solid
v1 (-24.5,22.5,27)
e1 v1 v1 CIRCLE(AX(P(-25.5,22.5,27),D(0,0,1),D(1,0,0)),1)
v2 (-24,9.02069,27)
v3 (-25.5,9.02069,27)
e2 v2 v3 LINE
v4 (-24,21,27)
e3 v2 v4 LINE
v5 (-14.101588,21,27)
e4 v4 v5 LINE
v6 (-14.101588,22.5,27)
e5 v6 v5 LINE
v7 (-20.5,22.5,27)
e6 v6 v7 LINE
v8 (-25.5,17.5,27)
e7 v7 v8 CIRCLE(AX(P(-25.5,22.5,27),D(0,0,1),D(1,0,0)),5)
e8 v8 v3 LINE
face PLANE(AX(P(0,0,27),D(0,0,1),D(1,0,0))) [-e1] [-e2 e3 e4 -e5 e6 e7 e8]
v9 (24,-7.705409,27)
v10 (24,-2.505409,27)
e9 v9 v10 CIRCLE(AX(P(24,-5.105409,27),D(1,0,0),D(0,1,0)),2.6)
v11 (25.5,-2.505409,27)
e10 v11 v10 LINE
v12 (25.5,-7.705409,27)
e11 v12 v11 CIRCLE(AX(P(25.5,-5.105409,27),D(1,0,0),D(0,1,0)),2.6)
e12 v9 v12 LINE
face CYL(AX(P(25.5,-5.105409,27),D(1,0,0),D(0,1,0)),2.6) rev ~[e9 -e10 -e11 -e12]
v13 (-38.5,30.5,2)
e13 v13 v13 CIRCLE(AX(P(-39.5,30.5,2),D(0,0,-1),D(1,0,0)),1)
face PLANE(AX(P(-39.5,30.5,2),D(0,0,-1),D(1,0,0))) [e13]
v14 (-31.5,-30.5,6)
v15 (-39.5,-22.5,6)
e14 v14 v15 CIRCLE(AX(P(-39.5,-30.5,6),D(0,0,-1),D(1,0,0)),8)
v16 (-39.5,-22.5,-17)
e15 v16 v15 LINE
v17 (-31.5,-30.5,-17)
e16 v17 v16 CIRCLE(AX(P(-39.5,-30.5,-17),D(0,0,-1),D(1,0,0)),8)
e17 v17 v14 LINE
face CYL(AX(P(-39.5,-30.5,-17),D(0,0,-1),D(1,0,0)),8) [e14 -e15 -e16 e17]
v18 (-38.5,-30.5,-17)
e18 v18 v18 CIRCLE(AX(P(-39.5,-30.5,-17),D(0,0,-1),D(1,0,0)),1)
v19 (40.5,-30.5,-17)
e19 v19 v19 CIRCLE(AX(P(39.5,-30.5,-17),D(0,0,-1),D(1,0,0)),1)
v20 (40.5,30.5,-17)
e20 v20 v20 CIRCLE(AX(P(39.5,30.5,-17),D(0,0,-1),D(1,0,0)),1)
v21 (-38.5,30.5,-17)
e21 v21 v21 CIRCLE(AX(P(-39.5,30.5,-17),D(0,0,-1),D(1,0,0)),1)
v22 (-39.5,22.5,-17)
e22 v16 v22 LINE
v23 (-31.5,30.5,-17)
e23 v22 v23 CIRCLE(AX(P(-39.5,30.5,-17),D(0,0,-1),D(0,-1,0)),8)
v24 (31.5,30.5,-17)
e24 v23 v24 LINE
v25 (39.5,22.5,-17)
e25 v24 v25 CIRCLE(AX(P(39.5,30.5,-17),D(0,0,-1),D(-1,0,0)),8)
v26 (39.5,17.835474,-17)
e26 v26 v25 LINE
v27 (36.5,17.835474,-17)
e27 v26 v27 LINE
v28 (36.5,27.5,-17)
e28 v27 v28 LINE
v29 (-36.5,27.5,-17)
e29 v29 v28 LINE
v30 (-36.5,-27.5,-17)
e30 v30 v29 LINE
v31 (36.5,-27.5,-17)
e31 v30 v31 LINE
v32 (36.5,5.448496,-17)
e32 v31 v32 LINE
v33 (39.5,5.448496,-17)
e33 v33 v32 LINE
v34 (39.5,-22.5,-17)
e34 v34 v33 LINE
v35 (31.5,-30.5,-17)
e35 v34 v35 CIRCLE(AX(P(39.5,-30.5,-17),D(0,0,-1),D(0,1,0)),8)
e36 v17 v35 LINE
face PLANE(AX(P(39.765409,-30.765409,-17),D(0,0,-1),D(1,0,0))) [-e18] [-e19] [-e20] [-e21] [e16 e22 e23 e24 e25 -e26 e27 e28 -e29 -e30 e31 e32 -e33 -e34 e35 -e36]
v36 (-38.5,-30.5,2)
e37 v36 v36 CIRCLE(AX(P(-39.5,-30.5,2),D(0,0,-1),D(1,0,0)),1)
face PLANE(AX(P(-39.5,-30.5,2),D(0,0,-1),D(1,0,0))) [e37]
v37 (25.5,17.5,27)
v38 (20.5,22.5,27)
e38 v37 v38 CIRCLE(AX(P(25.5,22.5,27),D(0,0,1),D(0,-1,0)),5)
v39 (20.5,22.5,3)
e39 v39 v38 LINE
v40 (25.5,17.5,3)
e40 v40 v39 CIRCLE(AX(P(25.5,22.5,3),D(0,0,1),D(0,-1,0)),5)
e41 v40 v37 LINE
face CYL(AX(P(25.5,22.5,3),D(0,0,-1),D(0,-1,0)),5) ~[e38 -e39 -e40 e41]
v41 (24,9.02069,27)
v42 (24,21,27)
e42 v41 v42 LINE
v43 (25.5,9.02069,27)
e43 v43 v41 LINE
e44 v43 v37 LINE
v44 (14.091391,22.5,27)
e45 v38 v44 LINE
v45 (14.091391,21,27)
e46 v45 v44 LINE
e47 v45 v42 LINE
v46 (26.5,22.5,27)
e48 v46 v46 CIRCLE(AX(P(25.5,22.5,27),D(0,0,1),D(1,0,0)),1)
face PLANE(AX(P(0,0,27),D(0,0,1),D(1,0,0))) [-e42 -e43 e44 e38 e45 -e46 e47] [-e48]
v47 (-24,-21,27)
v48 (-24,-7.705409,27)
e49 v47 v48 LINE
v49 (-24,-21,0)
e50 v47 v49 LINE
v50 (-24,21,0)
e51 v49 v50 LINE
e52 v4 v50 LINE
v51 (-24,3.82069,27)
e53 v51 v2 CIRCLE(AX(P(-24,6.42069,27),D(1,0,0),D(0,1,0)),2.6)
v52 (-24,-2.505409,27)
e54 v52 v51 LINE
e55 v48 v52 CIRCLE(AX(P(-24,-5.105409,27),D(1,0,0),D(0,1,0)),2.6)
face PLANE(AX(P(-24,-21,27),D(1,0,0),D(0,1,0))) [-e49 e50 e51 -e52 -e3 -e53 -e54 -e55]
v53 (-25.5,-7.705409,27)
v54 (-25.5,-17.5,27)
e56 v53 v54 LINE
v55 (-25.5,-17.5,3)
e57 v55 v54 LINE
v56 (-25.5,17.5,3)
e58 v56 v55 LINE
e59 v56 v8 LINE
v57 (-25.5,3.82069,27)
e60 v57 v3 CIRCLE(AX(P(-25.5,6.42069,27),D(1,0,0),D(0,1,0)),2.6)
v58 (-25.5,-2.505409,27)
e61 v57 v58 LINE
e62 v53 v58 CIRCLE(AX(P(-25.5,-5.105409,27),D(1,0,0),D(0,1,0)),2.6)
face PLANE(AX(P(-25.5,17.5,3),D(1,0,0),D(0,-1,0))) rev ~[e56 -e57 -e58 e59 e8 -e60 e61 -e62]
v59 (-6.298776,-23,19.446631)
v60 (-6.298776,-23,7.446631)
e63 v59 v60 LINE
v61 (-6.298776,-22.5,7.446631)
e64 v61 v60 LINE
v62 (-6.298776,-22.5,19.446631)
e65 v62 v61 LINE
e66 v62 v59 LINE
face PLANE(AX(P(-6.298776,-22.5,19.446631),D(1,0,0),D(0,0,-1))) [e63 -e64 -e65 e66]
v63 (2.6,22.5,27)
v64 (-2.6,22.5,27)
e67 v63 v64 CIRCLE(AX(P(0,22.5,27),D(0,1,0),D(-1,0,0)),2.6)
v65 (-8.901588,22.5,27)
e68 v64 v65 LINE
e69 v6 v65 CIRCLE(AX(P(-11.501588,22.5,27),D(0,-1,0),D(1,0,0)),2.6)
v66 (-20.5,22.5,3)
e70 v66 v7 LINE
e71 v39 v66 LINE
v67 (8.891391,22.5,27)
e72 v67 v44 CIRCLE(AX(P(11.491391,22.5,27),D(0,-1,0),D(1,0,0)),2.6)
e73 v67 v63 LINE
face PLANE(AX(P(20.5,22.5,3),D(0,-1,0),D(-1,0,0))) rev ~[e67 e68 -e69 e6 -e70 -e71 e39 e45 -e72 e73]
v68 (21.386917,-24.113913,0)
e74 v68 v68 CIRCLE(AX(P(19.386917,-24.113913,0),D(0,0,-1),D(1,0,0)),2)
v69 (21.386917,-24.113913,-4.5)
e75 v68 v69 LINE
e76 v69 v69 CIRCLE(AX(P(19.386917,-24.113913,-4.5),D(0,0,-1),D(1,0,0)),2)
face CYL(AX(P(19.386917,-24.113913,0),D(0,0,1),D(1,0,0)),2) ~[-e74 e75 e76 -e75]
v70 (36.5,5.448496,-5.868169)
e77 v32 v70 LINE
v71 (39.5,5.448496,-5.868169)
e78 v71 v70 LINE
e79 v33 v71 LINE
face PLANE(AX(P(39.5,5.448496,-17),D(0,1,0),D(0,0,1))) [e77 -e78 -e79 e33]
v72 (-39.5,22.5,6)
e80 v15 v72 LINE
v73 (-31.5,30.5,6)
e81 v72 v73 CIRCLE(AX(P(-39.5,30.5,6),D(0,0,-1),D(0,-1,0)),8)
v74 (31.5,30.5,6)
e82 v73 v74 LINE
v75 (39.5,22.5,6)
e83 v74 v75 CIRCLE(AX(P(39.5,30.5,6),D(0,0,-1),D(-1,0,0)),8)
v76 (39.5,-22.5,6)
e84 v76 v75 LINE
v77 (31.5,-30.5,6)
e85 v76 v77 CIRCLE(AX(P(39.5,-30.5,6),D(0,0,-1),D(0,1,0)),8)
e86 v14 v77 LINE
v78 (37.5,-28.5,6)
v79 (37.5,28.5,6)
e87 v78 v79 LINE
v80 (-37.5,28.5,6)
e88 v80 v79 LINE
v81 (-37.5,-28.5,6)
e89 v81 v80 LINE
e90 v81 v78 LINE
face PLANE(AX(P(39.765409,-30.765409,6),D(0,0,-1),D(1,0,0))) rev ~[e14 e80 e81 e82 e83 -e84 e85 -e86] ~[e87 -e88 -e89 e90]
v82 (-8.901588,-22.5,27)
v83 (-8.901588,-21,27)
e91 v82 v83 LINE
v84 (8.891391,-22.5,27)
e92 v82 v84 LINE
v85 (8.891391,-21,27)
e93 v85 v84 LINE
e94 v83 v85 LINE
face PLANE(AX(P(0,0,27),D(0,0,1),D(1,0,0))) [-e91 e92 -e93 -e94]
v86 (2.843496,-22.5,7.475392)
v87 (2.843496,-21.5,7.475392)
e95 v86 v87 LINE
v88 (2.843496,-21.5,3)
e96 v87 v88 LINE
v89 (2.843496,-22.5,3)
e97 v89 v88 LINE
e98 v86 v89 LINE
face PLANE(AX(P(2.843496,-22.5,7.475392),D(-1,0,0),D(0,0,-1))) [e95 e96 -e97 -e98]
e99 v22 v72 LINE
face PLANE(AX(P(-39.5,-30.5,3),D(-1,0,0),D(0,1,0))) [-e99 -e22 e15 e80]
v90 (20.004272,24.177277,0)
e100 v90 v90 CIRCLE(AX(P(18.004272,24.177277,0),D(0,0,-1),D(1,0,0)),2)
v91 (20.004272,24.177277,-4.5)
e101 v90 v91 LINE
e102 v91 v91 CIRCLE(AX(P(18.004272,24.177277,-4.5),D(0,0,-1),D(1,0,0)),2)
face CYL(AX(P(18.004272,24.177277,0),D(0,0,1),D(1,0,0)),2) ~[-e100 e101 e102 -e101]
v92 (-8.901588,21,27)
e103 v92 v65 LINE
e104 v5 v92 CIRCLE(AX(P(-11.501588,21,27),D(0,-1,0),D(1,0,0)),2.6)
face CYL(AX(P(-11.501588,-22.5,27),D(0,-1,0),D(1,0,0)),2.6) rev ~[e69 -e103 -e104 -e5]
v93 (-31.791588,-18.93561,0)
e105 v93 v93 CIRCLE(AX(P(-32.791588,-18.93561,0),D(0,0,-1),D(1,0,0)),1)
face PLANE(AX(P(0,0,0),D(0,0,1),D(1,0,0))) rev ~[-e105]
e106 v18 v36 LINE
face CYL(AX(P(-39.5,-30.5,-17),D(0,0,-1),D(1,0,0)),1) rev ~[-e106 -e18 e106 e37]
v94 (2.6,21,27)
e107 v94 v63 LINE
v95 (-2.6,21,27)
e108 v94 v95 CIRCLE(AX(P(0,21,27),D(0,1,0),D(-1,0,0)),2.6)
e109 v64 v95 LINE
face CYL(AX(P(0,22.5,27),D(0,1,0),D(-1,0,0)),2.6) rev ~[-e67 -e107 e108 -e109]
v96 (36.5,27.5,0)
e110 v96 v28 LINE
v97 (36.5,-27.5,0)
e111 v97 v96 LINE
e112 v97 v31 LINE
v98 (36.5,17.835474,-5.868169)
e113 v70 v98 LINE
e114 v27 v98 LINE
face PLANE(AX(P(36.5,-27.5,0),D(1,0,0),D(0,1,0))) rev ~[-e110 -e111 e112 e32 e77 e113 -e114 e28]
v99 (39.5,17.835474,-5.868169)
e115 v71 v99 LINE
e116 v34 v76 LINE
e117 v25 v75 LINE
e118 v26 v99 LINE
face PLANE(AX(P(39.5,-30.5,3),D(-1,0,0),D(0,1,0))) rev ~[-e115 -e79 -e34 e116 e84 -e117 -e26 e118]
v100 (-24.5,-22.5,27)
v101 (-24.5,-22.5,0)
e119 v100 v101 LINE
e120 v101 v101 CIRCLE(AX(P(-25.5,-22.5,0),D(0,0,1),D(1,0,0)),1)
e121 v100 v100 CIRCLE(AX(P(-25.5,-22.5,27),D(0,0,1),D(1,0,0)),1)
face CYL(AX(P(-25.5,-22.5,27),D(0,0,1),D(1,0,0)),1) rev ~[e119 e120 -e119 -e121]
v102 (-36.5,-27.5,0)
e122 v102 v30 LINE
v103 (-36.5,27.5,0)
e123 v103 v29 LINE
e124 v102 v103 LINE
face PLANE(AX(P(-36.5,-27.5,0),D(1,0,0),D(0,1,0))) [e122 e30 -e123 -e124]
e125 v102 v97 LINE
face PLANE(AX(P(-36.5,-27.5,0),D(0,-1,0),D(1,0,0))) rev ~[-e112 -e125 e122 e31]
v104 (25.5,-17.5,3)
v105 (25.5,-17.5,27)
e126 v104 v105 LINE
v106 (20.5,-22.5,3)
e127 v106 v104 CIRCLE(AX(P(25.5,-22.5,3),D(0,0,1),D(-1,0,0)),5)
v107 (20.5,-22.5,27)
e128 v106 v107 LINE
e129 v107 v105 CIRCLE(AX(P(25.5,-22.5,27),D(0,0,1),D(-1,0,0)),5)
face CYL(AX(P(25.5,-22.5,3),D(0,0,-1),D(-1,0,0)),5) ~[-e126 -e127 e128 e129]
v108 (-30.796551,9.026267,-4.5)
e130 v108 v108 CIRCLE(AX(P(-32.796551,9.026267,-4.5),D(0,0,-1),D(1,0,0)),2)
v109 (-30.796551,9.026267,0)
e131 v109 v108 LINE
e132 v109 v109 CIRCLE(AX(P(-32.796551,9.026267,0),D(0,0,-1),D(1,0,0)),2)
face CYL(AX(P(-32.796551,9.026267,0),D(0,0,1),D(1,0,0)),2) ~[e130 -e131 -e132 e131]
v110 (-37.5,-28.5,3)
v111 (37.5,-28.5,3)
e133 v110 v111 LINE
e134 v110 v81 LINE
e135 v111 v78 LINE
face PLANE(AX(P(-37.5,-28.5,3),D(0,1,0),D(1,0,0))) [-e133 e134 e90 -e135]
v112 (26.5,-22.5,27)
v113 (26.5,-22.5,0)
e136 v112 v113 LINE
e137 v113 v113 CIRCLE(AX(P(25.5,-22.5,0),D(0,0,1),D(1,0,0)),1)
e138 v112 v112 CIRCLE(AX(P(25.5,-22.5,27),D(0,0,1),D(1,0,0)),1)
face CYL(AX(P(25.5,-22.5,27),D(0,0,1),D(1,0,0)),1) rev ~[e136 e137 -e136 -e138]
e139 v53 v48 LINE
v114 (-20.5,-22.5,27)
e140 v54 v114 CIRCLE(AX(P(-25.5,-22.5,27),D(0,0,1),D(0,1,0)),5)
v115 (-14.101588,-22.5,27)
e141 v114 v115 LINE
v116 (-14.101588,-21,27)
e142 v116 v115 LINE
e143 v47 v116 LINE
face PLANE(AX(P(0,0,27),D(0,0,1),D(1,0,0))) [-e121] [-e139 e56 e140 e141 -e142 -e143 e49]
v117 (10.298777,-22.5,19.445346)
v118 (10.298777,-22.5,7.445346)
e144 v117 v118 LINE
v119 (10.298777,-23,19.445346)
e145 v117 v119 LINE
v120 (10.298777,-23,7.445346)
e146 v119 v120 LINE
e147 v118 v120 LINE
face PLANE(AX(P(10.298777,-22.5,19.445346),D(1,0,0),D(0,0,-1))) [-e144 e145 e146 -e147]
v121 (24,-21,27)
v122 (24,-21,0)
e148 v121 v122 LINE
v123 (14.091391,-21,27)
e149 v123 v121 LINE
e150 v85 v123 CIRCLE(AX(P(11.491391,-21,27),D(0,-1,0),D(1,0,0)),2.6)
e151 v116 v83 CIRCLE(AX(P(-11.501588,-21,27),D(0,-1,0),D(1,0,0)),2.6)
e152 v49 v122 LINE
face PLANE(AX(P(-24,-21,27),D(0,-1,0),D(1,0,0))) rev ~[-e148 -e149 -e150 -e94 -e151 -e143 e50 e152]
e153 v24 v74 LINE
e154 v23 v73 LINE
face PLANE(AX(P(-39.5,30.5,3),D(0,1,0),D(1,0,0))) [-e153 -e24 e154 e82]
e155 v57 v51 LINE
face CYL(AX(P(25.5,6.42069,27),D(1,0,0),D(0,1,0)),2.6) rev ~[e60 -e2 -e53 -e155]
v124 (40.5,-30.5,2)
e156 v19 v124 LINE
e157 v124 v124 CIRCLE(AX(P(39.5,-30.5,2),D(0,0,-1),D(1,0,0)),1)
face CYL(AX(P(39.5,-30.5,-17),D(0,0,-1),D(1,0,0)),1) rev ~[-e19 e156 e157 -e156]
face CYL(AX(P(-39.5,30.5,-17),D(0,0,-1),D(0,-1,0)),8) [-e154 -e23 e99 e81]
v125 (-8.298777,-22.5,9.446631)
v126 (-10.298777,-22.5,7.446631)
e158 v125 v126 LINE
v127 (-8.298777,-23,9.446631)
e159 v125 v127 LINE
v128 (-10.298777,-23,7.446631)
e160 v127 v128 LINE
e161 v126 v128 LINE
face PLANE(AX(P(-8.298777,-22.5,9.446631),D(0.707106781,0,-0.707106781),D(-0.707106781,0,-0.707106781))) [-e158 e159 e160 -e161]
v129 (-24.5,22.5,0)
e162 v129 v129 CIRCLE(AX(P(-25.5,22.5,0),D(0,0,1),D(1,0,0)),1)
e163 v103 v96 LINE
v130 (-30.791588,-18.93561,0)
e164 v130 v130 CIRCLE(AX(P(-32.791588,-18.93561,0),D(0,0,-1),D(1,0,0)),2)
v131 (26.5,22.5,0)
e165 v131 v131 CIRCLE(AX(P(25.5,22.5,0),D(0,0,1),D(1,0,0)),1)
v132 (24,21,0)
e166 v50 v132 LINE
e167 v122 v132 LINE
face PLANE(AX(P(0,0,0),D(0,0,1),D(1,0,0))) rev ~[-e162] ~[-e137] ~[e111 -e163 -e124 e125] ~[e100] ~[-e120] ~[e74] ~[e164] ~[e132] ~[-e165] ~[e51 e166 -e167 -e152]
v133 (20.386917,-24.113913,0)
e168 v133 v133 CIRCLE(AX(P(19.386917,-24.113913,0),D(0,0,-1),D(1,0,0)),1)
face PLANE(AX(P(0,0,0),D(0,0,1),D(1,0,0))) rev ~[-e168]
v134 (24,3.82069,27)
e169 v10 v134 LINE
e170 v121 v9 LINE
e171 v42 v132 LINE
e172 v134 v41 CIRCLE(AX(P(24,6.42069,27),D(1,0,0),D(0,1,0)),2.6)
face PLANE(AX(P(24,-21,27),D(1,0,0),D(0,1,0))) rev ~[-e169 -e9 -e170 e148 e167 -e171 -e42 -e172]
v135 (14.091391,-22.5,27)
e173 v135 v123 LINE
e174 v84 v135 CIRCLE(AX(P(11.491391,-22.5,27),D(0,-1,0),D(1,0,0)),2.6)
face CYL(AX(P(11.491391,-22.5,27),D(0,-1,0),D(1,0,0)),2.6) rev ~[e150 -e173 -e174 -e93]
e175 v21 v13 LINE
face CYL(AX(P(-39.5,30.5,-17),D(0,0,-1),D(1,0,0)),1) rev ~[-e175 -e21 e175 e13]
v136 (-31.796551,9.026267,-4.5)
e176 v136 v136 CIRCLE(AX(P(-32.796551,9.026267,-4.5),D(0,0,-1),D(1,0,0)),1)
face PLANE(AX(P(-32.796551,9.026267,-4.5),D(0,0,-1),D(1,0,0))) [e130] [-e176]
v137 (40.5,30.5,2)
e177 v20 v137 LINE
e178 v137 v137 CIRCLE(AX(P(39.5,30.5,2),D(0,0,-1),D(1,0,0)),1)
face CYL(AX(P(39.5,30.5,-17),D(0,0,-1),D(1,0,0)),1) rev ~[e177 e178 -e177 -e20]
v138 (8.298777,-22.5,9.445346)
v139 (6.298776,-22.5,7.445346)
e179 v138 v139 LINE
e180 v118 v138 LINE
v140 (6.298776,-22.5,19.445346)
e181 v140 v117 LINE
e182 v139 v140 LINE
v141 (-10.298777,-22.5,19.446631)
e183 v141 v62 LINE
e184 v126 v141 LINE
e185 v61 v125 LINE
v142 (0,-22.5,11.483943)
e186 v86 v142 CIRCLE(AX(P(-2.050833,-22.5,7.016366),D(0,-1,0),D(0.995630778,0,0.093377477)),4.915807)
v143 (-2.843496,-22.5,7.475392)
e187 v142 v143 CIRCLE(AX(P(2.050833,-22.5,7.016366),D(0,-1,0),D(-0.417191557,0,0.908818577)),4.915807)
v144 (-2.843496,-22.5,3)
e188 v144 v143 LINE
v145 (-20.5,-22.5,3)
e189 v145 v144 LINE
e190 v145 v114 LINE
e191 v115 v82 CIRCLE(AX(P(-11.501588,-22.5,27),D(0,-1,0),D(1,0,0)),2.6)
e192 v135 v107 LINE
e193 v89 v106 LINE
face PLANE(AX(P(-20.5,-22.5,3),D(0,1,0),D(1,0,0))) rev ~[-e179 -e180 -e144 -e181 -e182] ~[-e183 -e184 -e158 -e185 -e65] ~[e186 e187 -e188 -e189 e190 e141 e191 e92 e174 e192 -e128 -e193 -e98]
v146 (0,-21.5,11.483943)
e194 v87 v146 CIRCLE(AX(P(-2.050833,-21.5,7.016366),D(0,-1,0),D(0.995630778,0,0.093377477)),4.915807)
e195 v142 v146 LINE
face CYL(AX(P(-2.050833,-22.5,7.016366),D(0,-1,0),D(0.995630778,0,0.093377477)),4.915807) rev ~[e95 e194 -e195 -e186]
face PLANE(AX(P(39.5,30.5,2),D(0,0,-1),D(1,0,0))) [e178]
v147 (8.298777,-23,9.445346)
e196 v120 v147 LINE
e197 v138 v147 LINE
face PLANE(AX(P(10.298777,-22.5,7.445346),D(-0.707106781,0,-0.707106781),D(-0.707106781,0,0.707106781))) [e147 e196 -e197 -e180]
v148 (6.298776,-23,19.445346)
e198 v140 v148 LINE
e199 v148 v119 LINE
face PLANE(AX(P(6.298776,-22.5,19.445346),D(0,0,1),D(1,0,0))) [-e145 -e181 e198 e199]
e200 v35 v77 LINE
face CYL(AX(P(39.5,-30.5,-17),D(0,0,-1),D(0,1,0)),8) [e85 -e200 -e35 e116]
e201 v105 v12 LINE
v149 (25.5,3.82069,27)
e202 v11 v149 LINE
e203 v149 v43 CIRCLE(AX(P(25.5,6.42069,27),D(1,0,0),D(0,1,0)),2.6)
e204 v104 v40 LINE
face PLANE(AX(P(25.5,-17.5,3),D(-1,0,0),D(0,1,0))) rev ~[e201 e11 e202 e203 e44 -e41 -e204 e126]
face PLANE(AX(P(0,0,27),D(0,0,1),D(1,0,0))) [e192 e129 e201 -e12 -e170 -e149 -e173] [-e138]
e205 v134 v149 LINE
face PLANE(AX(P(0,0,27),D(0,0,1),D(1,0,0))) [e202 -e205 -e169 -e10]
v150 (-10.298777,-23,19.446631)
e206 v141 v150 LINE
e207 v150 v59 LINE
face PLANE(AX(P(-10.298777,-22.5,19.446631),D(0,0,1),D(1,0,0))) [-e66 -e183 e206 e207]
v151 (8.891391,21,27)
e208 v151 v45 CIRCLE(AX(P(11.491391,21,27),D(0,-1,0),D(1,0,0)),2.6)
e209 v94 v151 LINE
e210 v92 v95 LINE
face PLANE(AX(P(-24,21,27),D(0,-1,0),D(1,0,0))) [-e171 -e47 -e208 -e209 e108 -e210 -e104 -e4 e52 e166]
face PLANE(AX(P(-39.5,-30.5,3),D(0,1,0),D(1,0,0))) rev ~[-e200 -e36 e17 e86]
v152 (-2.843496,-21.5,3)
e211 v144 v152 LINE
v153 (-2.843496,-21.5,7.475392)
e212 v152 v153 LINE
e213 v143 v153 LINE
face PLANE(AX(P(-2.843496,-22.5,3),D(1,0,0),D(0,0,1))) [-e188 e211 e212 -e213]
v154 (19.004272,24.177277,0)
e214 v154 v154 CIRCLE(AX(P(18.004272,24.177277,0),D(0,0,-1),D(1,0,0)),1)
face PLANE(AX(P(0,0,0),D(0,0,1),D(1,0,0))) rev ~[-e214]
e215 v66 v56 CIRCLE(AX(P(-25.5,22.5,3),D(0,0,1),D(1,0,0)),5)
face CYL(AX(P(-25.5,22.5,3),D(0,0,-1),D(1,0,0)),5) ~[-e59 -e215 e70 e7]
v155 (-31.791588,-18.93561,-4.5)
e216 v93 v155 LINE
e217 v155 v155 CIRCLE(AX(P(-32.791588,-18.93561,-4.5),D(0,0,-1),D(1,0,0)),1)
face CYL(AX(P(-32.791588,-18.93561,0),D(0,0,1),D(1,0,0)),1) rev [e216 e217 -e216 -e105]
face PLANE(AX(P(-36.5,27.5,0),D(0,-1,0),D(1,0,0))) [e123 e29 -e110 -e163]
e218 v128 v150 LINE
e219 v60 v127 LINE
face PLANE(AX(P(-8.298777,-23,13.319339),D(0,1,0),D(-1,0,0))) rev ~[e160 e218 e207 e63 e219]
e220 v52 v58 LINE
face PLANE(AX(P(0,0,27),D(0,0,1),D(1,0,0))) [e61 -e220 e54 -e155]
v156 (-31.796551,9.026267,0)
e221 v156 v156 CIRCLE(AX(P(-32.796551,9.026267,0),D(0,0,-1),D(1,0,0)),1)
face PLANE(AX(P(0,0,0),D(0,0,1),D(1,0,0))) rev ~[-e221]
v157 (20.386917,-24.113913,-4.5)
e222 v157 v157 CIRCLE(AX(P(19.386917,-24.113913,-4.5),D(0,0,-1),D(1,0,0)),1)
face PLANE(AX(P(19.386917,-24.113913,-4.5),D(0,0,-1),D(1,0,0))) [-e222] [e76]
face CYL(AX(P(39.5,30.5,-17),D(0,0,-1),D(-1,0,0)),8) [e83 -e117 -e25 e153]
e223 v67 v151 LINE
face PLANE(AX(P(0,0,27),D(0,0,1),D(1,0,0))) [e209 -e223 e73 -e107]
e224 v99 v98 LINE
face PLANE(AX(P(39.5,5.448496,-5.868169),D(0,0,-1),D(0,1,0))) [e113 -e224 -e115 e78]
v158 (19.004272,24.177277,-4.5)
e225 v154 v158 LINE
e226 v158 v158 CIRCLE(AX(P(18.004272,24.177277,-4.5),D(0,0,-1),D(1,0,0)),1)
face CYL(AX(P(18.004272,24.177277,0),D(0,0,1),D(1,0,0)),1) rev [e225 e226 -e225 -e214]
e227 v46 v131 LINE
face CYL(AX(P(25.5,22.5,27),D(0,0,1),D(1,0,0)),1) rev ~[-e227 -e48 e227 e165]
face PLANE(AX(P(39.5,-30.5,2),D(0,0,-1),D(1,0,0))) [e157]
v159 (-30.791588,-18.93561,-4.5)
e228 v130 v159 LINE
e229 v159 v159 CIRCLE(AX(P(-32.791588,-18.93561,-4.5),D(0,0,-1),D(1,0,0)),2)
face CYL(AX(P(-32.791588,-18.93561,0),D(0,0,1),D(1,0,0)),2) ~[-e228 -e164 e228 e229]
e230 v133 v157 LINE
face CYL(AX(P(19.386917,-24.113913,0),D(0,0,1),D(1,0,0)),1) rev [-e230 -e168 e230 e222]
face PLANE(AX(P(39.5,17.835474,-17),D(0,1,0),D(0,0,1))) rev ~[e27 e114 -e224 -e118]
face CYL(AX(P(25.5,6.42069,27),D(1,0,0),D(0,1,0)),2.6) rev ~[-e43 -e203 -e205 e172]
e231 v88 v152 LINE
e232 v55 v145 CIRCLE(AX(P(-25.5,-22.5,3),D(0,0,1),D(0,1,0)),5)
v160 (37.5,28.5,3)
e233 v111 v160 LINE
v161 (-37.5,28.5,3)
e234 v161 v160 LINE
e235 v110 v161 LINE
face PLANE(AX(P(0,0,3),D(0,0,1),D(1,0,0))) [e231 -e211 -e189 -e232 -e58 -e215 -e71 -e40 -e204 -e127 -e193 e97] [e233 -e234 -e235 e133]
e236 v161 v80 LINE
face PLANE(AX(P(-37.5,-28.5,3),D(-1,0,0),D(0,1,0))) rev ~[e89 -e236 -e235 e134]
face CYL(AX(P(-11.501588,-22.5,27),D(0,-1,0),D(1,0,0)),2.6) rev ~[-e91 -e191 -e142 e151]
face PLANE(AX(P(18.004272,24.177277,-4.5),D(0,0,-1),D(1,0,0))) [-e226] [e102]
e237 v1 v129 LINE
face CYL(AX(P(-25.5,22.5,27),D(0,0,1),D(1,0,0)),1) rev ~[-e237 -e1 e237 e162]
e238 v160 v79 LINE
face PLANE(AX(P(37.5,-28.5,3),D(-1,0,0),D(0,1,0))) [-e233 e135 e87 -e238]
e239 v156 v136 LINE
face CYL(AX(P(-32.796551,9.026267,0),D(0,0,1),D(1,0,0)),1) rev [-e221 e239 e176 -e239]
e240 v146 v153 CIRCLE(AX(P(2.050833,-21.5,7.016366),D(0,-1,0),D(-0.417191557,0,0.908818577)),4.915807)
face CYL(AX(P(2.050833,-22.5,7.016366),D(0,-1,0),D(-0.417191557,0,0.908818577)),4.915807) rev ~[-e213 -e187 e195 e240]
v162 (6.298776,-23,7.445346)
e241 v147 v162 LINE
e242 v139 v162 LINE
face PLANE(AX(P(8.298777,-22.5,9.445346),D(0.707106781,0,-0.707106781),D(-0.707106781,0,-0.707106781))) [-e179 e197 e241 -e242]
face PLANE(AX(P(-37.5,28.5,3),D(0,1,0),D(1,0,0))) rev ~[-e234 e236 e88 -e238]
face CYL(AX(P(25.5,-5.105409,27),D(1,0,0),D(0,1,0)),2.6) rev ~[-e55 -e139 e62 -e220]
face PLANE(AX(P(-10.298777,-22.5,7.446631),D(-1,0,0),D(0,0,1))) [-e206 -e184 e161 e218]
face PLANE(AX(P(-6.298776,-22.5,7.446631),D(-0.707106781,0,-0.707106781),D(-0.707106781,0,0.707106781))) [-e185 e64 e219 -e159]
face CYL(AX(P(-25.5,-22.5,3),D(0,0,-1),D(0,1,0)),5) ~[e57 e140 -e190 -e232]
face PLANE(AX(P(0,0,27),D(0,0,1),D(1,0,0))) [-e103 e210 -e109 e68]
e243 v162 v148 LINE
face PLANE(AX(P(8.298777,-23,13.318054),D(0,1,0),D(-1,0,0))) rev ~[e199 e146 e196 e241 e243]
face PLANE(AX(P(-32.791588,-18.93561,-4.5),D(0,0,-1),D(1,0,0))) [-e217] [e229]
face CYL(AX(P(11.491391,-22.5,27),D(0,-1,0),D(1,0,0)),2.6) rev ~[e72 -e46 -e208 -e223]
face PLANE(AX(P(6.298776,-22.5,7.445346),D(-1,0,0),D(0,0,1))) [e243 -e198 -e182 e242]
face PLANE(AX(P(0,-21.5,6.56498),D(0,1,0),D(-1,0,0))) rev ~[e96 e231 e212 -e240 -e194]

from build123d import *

# Parameters (mm, degrees)
SKETCH_W        = 79
SKETCH_H        = 61
SKETCH_W_2      = 73
SKETCH_H_2      = 55
PAD_DEPTH       = 17
SKETCH001_W     = 12.386978
SKETCH001_H     = 11.131831
POCKET_DEPTH    = 3
SKETCH002_W     = 79
SKETCH002_H     = 61
PAD001_DEPTH    = 3
PAD002_DEPTH    = 24
SKETCH004_W     = 48
SKETCH004_H     = 42
POCKET001_DEPTH = 44.001
SKETCH005_R     = 2.6
POCKET002_DEPTH = 65.001
SKETCH006_R     = 2.6
POCKET003_DEPTH = 53.001
SKETCH007_R     = 2.6
POCKET004_DEPTH = 1.5
SKETCH014_R     = 1
POCKET010_DEPTH = 44.001
POCKET013_DEPTH = 1
SKETCH018_W     = 79
SKETCH018_H     = 61
SKETCH018_W_2   = 75
SKETCH018_H_2   = 57
PAD004_DEPTH    = 3
SKETCH027_R     = 2
SKETCH027_R_2   = 1
PAD008_DEPTH    = 4.5
PAD009_DEPTH    = 23
SKETCH032_R     = 1
POCKET018_DEPTH = 19
PAD011_DEPTH    = 0.5


with BuildPart() as part:
    # Sketch → Pad (new body)
    with BuildSketch(Plane.XY):
        Rectangle(SKETCH_W, SKETCH_H)
        Rectangle(SKETCH_W_2, SKETCH_H_2, mode=Mode.SUBTRACT)
    extrude(amount=-PAD_DEPTH)

    # Sketch001 (on Face2 of Pad) → Pocket (cut)
    with BuildSketch(Plane.YZ.offset(39.5)):
        with Locations((11.641985, -11.4340845)):
            Rectangle(SKETCH001_W, SKETCH001_H)
    extrude(amount=-POCKET_DEPTH, mode=Mode.SUBTRACT)

    # Sketch002 (on Face4 of Pocket) → Pad001 (join)
    with BuildSketch(Plane.XY):
        Rectangle(SKETCH002_W, SKETCH002_H)
    extrude(amount=PAD001_DEPTH)

    # Sketch003 (on Face12 of Pad001) → Pad002 (join)
    with BuildSketch(Plane.XY.offset(3)):
        with BuildLine():
            Line((20.5, 22.5), (-20.5, 22.5))
            ThreePointArc((-20.5, 22.5), (-29.0355339059, 26.0355339059), (-25.5, 17.5))
            Line((-25.5, 17.5), (-25.5, -17.5))
            ThreePointArc((-25.5, -17.5), (-29.0355339059, -26.0355339059), (-20.5, -22.5))
            Line((-20.5, -22.5), (20.5, -22.5))
            ThreePointArc((20.5, -22.5), (29.0355339059, -26.0355339059), (25.5, -17.5))
            Line((25.5, -17.5), (25.5, 17.5))
            ThreePointArc((25.5, 17.5), (29.0355339059, 26.0355339059), (20.5, 22.5))
        make_face()
    extrude(amount=PAD002_DEPTH)

    # Sketch004 (on Face27 of Pad002) → Pocket001 (cut, through all)
    with BuildSketch(Plane.XY.offset(27)):
        Rectangle(SKETCH004_W, SKETCH004_H)
    extrude(amount=-POCKET001_DEPTH, mode=Mode.SUBTRACT)

    # Sketch005 (on Face24 of Pocket001) → Pocket002 (cut, through all)
    with BuildSketch(Plane.YZ.offset(25.5)):
        with Locations((-5.105409, 27)):
            Circle(SKETCH005_R)
        with Locations((6.42069, 27)):
            Circle(SKETCH005_R)
    extrude(amount=-POCKET002_DEPTH, mode=Mode.SUBTRACT)

    # Sketch006 (on Face22 of Pocket002) → Pocket003 (cut, through all)
    with BuildSketch(Plane.XZ.offset(22.5)):
        with Locations((-11.5015881496, 27)):
            Circle(SKETCH006_R)
        with Locations((11.491391, 27)):
            Circle(SKETCH006_R)
    extrude(amount=-POCKET003_DEPTH, mode=Mode.SUBTRACT)

    # Sketch007 (on Face18 of Pocket003) → Pocket004 (cut)
    with BuildSketch(Plane(origin=(0, 22.5, 0), x_dir=(-1, 0, 0), z_dir=(0, 1, 0))):
        with Locations((0, 27)):
            Circle(SKETCH007_R)
    extrude(amount=-POCKET004_DEPTH, mode=Mode.SUBTRACT)

    # Sketch014 (on Face34 of Pocket004) → Pocket010 (cut, through all)
    with BuildSketch(Plane.XY.offset(27)):
        with Locations((25.5, 22.5)):
            Circle(SKETCH014_R)
        with Locations((25.5, -22.5)):
            Circle(SKETCH014_R)
        with Locations((-25.5, -22.5)):
            Circle(SKETCH014_R)
        with Locations((-25.5, 22.5)):
            Circle(SKETCH014_R)
    extrude(amount=-POCKET010_DEPTH, mode=Mode.SUBTRACT)

    # Sketch019 (on Face22 of Pocket010) → Pocket013 (cut)
    with BuildSketch(Plane.XZ.offset(22.5)):
        with BuildLine():
            Line((2.8434957673, 7.4753916627), (2.8434957673, 3))
            Line((2.8434957673, 3), (-2.8434957673, 3))
            Line((-2.8434957673, 3), (-2.8434957673, 7.4753916627))
            ThreePointArc((0, 11.483943), (-1.9586480903, 9.8605214945), (-2.8434957673, 7.4753916627))
            ThreePointArc((2.8434957673, 7.4753916627), (1.9586480903, 9.8605214945), (0, 11.483943))
        make_face()
    extrude(amount=-POCKET013_DEPTH, mode=Mode.SUBTRACT)

    # Sketch018 (on Face12 of Pocket010) → Pad004 (join)
    with BuildSketch(Plane.XY.offset(3)):
        Rectangle(SKETCH018_W, SKETCH018_H)
        Rectangle(SKETCH018_W_2, SKETCH018_H_2, mode=Mode.SUBTRACT)
    extrude(amount=PAD004_DEPTH)

    # Sketch027 (on Face21 of Pad004) → Pad008 (join)
    with BuildSketch(Plane(origin=(0, 0, 0), x_dir=(1, 0, 0), z_dir=(0, 0, -1))):
        with Locations((-32.791588, 18.93561)):
            Circle(SKETCH027_R)
        with Locations((-32.791588, 18.93561)):
            Circle(SKETCH027_R_2, mode=Mode.SUBTRACT)
        with Locations((19.386917, 24.113913)):
            Circle(SKETCH027_R)
        with Locations((19.386917, 24.113913)):
            Circle(SKETCH027_R_2, mode=Mode.SUBTRACT)
        with Locations((18.004272, -24.177277)):
            Circle(SKETCH027_R)
        with Locations((18.004272, -24.177277)):
            Circle(SKETCH027_R_2, mode=Mode.SUBTRACT)
        with Locations((-32.796551, -9.026267)):
            Circle(SKETCH027_R)
        with Locations((-32.796551, -9.026267)):
            Circle(SKETCH027_R_2, mode=Mode.SUBTRACT)
    extrude(amount=PAD008_DEPTH)

    # Sketch028 (on Face5 of Pad008) → Pad009 (join)
    with BuildSketch(Plane(origin=(0, 0, -17), x_dir=(1, 0, 0), z_dir=(0, 0, -1))):
        with BuildLine():
            ThreePointArc((39.5, 22.5), (45.1568542495, 36.1568542495), (31.5, 30.5))
            Line((31.5, 30.5), (39.5, 30.5))
            Line((39.5, 30.5), (39.5, 22.5))
        make_face()
        with BuildLine():
            ThreePointArc((-31.5, 30.5), (-45.1568542495, 36.1568542495), (-39.5, 22.5))
            Line((-39.5, 22.5), (-39.5, 30.5))
            Line((-39.5, 30.5), (-31.5, 30.5))
        make_face()
        with BuildLine():
            ThreePointArc((-39.5, -22.5), (-45.1568542495, -36.1568542495), (-31.5, -30.5))
            Line((-31.5, -30.5), (-39.5, -30.5))
            Line((-39.5, -30.5), (-39.5, -22.5))
        make_face()
        with BuildLine():
            ThreePointArc((31.5, -30.5), (45.1568542495, -36.1568542495), (39.5, -22.5))
            Line((39.5, -22.5), (39.5, -30.5))
            Line((39.5, -30.5), (31.5, -30.5))
        make_face()
    extrude(amount=-PAD009_DEPTH)

    # Sketch032 (on Face12 of Pad009) → Pocket018 (cut)
    with BuildSketch(Plane(origin=(0, 0, -17), x_dir=(1, 0, 0), z_dir=(0, 0, -1))):
        with Locations((39.5, 30.5)):
            Circle(SKETCH032_R)
        with Locations((39.5, -30.5)):
            Circle(SKETCH032_R)
        with Locations((-39.5, 30.5)):
            Circle(SKETCH032_R)
        with Locations((-39.5, -30.5)):
            Circle(SKETCH032_R)
    extrude(amount=-POCKET018_DEPTH, mode=Mode.SUBTRACT)

    # Sketch033 (on Face89 of Pocket018) → Pad011 (join)
    with BuildSketch(Plane.XZ.offset(22.5)):
        Polygon((-10.2987765, 19.4466314572), (-6.2987765, 19.4466314572), (-6.2987765, 7.4466314572), (-8.2987765, 9.4466314572), (-10.2987765, 7.4466314572), align=None)
        Polygon((6.2987765, 19.4453464572), (10.2987765, 19.4453464572), (10.2987765, 7.4453464572), (8.2987765, 9.4453464572), (6.2987765, 7.4453464572), align=None)
    extrude(amount=PAD011_DEPTH)


solid = part.part
